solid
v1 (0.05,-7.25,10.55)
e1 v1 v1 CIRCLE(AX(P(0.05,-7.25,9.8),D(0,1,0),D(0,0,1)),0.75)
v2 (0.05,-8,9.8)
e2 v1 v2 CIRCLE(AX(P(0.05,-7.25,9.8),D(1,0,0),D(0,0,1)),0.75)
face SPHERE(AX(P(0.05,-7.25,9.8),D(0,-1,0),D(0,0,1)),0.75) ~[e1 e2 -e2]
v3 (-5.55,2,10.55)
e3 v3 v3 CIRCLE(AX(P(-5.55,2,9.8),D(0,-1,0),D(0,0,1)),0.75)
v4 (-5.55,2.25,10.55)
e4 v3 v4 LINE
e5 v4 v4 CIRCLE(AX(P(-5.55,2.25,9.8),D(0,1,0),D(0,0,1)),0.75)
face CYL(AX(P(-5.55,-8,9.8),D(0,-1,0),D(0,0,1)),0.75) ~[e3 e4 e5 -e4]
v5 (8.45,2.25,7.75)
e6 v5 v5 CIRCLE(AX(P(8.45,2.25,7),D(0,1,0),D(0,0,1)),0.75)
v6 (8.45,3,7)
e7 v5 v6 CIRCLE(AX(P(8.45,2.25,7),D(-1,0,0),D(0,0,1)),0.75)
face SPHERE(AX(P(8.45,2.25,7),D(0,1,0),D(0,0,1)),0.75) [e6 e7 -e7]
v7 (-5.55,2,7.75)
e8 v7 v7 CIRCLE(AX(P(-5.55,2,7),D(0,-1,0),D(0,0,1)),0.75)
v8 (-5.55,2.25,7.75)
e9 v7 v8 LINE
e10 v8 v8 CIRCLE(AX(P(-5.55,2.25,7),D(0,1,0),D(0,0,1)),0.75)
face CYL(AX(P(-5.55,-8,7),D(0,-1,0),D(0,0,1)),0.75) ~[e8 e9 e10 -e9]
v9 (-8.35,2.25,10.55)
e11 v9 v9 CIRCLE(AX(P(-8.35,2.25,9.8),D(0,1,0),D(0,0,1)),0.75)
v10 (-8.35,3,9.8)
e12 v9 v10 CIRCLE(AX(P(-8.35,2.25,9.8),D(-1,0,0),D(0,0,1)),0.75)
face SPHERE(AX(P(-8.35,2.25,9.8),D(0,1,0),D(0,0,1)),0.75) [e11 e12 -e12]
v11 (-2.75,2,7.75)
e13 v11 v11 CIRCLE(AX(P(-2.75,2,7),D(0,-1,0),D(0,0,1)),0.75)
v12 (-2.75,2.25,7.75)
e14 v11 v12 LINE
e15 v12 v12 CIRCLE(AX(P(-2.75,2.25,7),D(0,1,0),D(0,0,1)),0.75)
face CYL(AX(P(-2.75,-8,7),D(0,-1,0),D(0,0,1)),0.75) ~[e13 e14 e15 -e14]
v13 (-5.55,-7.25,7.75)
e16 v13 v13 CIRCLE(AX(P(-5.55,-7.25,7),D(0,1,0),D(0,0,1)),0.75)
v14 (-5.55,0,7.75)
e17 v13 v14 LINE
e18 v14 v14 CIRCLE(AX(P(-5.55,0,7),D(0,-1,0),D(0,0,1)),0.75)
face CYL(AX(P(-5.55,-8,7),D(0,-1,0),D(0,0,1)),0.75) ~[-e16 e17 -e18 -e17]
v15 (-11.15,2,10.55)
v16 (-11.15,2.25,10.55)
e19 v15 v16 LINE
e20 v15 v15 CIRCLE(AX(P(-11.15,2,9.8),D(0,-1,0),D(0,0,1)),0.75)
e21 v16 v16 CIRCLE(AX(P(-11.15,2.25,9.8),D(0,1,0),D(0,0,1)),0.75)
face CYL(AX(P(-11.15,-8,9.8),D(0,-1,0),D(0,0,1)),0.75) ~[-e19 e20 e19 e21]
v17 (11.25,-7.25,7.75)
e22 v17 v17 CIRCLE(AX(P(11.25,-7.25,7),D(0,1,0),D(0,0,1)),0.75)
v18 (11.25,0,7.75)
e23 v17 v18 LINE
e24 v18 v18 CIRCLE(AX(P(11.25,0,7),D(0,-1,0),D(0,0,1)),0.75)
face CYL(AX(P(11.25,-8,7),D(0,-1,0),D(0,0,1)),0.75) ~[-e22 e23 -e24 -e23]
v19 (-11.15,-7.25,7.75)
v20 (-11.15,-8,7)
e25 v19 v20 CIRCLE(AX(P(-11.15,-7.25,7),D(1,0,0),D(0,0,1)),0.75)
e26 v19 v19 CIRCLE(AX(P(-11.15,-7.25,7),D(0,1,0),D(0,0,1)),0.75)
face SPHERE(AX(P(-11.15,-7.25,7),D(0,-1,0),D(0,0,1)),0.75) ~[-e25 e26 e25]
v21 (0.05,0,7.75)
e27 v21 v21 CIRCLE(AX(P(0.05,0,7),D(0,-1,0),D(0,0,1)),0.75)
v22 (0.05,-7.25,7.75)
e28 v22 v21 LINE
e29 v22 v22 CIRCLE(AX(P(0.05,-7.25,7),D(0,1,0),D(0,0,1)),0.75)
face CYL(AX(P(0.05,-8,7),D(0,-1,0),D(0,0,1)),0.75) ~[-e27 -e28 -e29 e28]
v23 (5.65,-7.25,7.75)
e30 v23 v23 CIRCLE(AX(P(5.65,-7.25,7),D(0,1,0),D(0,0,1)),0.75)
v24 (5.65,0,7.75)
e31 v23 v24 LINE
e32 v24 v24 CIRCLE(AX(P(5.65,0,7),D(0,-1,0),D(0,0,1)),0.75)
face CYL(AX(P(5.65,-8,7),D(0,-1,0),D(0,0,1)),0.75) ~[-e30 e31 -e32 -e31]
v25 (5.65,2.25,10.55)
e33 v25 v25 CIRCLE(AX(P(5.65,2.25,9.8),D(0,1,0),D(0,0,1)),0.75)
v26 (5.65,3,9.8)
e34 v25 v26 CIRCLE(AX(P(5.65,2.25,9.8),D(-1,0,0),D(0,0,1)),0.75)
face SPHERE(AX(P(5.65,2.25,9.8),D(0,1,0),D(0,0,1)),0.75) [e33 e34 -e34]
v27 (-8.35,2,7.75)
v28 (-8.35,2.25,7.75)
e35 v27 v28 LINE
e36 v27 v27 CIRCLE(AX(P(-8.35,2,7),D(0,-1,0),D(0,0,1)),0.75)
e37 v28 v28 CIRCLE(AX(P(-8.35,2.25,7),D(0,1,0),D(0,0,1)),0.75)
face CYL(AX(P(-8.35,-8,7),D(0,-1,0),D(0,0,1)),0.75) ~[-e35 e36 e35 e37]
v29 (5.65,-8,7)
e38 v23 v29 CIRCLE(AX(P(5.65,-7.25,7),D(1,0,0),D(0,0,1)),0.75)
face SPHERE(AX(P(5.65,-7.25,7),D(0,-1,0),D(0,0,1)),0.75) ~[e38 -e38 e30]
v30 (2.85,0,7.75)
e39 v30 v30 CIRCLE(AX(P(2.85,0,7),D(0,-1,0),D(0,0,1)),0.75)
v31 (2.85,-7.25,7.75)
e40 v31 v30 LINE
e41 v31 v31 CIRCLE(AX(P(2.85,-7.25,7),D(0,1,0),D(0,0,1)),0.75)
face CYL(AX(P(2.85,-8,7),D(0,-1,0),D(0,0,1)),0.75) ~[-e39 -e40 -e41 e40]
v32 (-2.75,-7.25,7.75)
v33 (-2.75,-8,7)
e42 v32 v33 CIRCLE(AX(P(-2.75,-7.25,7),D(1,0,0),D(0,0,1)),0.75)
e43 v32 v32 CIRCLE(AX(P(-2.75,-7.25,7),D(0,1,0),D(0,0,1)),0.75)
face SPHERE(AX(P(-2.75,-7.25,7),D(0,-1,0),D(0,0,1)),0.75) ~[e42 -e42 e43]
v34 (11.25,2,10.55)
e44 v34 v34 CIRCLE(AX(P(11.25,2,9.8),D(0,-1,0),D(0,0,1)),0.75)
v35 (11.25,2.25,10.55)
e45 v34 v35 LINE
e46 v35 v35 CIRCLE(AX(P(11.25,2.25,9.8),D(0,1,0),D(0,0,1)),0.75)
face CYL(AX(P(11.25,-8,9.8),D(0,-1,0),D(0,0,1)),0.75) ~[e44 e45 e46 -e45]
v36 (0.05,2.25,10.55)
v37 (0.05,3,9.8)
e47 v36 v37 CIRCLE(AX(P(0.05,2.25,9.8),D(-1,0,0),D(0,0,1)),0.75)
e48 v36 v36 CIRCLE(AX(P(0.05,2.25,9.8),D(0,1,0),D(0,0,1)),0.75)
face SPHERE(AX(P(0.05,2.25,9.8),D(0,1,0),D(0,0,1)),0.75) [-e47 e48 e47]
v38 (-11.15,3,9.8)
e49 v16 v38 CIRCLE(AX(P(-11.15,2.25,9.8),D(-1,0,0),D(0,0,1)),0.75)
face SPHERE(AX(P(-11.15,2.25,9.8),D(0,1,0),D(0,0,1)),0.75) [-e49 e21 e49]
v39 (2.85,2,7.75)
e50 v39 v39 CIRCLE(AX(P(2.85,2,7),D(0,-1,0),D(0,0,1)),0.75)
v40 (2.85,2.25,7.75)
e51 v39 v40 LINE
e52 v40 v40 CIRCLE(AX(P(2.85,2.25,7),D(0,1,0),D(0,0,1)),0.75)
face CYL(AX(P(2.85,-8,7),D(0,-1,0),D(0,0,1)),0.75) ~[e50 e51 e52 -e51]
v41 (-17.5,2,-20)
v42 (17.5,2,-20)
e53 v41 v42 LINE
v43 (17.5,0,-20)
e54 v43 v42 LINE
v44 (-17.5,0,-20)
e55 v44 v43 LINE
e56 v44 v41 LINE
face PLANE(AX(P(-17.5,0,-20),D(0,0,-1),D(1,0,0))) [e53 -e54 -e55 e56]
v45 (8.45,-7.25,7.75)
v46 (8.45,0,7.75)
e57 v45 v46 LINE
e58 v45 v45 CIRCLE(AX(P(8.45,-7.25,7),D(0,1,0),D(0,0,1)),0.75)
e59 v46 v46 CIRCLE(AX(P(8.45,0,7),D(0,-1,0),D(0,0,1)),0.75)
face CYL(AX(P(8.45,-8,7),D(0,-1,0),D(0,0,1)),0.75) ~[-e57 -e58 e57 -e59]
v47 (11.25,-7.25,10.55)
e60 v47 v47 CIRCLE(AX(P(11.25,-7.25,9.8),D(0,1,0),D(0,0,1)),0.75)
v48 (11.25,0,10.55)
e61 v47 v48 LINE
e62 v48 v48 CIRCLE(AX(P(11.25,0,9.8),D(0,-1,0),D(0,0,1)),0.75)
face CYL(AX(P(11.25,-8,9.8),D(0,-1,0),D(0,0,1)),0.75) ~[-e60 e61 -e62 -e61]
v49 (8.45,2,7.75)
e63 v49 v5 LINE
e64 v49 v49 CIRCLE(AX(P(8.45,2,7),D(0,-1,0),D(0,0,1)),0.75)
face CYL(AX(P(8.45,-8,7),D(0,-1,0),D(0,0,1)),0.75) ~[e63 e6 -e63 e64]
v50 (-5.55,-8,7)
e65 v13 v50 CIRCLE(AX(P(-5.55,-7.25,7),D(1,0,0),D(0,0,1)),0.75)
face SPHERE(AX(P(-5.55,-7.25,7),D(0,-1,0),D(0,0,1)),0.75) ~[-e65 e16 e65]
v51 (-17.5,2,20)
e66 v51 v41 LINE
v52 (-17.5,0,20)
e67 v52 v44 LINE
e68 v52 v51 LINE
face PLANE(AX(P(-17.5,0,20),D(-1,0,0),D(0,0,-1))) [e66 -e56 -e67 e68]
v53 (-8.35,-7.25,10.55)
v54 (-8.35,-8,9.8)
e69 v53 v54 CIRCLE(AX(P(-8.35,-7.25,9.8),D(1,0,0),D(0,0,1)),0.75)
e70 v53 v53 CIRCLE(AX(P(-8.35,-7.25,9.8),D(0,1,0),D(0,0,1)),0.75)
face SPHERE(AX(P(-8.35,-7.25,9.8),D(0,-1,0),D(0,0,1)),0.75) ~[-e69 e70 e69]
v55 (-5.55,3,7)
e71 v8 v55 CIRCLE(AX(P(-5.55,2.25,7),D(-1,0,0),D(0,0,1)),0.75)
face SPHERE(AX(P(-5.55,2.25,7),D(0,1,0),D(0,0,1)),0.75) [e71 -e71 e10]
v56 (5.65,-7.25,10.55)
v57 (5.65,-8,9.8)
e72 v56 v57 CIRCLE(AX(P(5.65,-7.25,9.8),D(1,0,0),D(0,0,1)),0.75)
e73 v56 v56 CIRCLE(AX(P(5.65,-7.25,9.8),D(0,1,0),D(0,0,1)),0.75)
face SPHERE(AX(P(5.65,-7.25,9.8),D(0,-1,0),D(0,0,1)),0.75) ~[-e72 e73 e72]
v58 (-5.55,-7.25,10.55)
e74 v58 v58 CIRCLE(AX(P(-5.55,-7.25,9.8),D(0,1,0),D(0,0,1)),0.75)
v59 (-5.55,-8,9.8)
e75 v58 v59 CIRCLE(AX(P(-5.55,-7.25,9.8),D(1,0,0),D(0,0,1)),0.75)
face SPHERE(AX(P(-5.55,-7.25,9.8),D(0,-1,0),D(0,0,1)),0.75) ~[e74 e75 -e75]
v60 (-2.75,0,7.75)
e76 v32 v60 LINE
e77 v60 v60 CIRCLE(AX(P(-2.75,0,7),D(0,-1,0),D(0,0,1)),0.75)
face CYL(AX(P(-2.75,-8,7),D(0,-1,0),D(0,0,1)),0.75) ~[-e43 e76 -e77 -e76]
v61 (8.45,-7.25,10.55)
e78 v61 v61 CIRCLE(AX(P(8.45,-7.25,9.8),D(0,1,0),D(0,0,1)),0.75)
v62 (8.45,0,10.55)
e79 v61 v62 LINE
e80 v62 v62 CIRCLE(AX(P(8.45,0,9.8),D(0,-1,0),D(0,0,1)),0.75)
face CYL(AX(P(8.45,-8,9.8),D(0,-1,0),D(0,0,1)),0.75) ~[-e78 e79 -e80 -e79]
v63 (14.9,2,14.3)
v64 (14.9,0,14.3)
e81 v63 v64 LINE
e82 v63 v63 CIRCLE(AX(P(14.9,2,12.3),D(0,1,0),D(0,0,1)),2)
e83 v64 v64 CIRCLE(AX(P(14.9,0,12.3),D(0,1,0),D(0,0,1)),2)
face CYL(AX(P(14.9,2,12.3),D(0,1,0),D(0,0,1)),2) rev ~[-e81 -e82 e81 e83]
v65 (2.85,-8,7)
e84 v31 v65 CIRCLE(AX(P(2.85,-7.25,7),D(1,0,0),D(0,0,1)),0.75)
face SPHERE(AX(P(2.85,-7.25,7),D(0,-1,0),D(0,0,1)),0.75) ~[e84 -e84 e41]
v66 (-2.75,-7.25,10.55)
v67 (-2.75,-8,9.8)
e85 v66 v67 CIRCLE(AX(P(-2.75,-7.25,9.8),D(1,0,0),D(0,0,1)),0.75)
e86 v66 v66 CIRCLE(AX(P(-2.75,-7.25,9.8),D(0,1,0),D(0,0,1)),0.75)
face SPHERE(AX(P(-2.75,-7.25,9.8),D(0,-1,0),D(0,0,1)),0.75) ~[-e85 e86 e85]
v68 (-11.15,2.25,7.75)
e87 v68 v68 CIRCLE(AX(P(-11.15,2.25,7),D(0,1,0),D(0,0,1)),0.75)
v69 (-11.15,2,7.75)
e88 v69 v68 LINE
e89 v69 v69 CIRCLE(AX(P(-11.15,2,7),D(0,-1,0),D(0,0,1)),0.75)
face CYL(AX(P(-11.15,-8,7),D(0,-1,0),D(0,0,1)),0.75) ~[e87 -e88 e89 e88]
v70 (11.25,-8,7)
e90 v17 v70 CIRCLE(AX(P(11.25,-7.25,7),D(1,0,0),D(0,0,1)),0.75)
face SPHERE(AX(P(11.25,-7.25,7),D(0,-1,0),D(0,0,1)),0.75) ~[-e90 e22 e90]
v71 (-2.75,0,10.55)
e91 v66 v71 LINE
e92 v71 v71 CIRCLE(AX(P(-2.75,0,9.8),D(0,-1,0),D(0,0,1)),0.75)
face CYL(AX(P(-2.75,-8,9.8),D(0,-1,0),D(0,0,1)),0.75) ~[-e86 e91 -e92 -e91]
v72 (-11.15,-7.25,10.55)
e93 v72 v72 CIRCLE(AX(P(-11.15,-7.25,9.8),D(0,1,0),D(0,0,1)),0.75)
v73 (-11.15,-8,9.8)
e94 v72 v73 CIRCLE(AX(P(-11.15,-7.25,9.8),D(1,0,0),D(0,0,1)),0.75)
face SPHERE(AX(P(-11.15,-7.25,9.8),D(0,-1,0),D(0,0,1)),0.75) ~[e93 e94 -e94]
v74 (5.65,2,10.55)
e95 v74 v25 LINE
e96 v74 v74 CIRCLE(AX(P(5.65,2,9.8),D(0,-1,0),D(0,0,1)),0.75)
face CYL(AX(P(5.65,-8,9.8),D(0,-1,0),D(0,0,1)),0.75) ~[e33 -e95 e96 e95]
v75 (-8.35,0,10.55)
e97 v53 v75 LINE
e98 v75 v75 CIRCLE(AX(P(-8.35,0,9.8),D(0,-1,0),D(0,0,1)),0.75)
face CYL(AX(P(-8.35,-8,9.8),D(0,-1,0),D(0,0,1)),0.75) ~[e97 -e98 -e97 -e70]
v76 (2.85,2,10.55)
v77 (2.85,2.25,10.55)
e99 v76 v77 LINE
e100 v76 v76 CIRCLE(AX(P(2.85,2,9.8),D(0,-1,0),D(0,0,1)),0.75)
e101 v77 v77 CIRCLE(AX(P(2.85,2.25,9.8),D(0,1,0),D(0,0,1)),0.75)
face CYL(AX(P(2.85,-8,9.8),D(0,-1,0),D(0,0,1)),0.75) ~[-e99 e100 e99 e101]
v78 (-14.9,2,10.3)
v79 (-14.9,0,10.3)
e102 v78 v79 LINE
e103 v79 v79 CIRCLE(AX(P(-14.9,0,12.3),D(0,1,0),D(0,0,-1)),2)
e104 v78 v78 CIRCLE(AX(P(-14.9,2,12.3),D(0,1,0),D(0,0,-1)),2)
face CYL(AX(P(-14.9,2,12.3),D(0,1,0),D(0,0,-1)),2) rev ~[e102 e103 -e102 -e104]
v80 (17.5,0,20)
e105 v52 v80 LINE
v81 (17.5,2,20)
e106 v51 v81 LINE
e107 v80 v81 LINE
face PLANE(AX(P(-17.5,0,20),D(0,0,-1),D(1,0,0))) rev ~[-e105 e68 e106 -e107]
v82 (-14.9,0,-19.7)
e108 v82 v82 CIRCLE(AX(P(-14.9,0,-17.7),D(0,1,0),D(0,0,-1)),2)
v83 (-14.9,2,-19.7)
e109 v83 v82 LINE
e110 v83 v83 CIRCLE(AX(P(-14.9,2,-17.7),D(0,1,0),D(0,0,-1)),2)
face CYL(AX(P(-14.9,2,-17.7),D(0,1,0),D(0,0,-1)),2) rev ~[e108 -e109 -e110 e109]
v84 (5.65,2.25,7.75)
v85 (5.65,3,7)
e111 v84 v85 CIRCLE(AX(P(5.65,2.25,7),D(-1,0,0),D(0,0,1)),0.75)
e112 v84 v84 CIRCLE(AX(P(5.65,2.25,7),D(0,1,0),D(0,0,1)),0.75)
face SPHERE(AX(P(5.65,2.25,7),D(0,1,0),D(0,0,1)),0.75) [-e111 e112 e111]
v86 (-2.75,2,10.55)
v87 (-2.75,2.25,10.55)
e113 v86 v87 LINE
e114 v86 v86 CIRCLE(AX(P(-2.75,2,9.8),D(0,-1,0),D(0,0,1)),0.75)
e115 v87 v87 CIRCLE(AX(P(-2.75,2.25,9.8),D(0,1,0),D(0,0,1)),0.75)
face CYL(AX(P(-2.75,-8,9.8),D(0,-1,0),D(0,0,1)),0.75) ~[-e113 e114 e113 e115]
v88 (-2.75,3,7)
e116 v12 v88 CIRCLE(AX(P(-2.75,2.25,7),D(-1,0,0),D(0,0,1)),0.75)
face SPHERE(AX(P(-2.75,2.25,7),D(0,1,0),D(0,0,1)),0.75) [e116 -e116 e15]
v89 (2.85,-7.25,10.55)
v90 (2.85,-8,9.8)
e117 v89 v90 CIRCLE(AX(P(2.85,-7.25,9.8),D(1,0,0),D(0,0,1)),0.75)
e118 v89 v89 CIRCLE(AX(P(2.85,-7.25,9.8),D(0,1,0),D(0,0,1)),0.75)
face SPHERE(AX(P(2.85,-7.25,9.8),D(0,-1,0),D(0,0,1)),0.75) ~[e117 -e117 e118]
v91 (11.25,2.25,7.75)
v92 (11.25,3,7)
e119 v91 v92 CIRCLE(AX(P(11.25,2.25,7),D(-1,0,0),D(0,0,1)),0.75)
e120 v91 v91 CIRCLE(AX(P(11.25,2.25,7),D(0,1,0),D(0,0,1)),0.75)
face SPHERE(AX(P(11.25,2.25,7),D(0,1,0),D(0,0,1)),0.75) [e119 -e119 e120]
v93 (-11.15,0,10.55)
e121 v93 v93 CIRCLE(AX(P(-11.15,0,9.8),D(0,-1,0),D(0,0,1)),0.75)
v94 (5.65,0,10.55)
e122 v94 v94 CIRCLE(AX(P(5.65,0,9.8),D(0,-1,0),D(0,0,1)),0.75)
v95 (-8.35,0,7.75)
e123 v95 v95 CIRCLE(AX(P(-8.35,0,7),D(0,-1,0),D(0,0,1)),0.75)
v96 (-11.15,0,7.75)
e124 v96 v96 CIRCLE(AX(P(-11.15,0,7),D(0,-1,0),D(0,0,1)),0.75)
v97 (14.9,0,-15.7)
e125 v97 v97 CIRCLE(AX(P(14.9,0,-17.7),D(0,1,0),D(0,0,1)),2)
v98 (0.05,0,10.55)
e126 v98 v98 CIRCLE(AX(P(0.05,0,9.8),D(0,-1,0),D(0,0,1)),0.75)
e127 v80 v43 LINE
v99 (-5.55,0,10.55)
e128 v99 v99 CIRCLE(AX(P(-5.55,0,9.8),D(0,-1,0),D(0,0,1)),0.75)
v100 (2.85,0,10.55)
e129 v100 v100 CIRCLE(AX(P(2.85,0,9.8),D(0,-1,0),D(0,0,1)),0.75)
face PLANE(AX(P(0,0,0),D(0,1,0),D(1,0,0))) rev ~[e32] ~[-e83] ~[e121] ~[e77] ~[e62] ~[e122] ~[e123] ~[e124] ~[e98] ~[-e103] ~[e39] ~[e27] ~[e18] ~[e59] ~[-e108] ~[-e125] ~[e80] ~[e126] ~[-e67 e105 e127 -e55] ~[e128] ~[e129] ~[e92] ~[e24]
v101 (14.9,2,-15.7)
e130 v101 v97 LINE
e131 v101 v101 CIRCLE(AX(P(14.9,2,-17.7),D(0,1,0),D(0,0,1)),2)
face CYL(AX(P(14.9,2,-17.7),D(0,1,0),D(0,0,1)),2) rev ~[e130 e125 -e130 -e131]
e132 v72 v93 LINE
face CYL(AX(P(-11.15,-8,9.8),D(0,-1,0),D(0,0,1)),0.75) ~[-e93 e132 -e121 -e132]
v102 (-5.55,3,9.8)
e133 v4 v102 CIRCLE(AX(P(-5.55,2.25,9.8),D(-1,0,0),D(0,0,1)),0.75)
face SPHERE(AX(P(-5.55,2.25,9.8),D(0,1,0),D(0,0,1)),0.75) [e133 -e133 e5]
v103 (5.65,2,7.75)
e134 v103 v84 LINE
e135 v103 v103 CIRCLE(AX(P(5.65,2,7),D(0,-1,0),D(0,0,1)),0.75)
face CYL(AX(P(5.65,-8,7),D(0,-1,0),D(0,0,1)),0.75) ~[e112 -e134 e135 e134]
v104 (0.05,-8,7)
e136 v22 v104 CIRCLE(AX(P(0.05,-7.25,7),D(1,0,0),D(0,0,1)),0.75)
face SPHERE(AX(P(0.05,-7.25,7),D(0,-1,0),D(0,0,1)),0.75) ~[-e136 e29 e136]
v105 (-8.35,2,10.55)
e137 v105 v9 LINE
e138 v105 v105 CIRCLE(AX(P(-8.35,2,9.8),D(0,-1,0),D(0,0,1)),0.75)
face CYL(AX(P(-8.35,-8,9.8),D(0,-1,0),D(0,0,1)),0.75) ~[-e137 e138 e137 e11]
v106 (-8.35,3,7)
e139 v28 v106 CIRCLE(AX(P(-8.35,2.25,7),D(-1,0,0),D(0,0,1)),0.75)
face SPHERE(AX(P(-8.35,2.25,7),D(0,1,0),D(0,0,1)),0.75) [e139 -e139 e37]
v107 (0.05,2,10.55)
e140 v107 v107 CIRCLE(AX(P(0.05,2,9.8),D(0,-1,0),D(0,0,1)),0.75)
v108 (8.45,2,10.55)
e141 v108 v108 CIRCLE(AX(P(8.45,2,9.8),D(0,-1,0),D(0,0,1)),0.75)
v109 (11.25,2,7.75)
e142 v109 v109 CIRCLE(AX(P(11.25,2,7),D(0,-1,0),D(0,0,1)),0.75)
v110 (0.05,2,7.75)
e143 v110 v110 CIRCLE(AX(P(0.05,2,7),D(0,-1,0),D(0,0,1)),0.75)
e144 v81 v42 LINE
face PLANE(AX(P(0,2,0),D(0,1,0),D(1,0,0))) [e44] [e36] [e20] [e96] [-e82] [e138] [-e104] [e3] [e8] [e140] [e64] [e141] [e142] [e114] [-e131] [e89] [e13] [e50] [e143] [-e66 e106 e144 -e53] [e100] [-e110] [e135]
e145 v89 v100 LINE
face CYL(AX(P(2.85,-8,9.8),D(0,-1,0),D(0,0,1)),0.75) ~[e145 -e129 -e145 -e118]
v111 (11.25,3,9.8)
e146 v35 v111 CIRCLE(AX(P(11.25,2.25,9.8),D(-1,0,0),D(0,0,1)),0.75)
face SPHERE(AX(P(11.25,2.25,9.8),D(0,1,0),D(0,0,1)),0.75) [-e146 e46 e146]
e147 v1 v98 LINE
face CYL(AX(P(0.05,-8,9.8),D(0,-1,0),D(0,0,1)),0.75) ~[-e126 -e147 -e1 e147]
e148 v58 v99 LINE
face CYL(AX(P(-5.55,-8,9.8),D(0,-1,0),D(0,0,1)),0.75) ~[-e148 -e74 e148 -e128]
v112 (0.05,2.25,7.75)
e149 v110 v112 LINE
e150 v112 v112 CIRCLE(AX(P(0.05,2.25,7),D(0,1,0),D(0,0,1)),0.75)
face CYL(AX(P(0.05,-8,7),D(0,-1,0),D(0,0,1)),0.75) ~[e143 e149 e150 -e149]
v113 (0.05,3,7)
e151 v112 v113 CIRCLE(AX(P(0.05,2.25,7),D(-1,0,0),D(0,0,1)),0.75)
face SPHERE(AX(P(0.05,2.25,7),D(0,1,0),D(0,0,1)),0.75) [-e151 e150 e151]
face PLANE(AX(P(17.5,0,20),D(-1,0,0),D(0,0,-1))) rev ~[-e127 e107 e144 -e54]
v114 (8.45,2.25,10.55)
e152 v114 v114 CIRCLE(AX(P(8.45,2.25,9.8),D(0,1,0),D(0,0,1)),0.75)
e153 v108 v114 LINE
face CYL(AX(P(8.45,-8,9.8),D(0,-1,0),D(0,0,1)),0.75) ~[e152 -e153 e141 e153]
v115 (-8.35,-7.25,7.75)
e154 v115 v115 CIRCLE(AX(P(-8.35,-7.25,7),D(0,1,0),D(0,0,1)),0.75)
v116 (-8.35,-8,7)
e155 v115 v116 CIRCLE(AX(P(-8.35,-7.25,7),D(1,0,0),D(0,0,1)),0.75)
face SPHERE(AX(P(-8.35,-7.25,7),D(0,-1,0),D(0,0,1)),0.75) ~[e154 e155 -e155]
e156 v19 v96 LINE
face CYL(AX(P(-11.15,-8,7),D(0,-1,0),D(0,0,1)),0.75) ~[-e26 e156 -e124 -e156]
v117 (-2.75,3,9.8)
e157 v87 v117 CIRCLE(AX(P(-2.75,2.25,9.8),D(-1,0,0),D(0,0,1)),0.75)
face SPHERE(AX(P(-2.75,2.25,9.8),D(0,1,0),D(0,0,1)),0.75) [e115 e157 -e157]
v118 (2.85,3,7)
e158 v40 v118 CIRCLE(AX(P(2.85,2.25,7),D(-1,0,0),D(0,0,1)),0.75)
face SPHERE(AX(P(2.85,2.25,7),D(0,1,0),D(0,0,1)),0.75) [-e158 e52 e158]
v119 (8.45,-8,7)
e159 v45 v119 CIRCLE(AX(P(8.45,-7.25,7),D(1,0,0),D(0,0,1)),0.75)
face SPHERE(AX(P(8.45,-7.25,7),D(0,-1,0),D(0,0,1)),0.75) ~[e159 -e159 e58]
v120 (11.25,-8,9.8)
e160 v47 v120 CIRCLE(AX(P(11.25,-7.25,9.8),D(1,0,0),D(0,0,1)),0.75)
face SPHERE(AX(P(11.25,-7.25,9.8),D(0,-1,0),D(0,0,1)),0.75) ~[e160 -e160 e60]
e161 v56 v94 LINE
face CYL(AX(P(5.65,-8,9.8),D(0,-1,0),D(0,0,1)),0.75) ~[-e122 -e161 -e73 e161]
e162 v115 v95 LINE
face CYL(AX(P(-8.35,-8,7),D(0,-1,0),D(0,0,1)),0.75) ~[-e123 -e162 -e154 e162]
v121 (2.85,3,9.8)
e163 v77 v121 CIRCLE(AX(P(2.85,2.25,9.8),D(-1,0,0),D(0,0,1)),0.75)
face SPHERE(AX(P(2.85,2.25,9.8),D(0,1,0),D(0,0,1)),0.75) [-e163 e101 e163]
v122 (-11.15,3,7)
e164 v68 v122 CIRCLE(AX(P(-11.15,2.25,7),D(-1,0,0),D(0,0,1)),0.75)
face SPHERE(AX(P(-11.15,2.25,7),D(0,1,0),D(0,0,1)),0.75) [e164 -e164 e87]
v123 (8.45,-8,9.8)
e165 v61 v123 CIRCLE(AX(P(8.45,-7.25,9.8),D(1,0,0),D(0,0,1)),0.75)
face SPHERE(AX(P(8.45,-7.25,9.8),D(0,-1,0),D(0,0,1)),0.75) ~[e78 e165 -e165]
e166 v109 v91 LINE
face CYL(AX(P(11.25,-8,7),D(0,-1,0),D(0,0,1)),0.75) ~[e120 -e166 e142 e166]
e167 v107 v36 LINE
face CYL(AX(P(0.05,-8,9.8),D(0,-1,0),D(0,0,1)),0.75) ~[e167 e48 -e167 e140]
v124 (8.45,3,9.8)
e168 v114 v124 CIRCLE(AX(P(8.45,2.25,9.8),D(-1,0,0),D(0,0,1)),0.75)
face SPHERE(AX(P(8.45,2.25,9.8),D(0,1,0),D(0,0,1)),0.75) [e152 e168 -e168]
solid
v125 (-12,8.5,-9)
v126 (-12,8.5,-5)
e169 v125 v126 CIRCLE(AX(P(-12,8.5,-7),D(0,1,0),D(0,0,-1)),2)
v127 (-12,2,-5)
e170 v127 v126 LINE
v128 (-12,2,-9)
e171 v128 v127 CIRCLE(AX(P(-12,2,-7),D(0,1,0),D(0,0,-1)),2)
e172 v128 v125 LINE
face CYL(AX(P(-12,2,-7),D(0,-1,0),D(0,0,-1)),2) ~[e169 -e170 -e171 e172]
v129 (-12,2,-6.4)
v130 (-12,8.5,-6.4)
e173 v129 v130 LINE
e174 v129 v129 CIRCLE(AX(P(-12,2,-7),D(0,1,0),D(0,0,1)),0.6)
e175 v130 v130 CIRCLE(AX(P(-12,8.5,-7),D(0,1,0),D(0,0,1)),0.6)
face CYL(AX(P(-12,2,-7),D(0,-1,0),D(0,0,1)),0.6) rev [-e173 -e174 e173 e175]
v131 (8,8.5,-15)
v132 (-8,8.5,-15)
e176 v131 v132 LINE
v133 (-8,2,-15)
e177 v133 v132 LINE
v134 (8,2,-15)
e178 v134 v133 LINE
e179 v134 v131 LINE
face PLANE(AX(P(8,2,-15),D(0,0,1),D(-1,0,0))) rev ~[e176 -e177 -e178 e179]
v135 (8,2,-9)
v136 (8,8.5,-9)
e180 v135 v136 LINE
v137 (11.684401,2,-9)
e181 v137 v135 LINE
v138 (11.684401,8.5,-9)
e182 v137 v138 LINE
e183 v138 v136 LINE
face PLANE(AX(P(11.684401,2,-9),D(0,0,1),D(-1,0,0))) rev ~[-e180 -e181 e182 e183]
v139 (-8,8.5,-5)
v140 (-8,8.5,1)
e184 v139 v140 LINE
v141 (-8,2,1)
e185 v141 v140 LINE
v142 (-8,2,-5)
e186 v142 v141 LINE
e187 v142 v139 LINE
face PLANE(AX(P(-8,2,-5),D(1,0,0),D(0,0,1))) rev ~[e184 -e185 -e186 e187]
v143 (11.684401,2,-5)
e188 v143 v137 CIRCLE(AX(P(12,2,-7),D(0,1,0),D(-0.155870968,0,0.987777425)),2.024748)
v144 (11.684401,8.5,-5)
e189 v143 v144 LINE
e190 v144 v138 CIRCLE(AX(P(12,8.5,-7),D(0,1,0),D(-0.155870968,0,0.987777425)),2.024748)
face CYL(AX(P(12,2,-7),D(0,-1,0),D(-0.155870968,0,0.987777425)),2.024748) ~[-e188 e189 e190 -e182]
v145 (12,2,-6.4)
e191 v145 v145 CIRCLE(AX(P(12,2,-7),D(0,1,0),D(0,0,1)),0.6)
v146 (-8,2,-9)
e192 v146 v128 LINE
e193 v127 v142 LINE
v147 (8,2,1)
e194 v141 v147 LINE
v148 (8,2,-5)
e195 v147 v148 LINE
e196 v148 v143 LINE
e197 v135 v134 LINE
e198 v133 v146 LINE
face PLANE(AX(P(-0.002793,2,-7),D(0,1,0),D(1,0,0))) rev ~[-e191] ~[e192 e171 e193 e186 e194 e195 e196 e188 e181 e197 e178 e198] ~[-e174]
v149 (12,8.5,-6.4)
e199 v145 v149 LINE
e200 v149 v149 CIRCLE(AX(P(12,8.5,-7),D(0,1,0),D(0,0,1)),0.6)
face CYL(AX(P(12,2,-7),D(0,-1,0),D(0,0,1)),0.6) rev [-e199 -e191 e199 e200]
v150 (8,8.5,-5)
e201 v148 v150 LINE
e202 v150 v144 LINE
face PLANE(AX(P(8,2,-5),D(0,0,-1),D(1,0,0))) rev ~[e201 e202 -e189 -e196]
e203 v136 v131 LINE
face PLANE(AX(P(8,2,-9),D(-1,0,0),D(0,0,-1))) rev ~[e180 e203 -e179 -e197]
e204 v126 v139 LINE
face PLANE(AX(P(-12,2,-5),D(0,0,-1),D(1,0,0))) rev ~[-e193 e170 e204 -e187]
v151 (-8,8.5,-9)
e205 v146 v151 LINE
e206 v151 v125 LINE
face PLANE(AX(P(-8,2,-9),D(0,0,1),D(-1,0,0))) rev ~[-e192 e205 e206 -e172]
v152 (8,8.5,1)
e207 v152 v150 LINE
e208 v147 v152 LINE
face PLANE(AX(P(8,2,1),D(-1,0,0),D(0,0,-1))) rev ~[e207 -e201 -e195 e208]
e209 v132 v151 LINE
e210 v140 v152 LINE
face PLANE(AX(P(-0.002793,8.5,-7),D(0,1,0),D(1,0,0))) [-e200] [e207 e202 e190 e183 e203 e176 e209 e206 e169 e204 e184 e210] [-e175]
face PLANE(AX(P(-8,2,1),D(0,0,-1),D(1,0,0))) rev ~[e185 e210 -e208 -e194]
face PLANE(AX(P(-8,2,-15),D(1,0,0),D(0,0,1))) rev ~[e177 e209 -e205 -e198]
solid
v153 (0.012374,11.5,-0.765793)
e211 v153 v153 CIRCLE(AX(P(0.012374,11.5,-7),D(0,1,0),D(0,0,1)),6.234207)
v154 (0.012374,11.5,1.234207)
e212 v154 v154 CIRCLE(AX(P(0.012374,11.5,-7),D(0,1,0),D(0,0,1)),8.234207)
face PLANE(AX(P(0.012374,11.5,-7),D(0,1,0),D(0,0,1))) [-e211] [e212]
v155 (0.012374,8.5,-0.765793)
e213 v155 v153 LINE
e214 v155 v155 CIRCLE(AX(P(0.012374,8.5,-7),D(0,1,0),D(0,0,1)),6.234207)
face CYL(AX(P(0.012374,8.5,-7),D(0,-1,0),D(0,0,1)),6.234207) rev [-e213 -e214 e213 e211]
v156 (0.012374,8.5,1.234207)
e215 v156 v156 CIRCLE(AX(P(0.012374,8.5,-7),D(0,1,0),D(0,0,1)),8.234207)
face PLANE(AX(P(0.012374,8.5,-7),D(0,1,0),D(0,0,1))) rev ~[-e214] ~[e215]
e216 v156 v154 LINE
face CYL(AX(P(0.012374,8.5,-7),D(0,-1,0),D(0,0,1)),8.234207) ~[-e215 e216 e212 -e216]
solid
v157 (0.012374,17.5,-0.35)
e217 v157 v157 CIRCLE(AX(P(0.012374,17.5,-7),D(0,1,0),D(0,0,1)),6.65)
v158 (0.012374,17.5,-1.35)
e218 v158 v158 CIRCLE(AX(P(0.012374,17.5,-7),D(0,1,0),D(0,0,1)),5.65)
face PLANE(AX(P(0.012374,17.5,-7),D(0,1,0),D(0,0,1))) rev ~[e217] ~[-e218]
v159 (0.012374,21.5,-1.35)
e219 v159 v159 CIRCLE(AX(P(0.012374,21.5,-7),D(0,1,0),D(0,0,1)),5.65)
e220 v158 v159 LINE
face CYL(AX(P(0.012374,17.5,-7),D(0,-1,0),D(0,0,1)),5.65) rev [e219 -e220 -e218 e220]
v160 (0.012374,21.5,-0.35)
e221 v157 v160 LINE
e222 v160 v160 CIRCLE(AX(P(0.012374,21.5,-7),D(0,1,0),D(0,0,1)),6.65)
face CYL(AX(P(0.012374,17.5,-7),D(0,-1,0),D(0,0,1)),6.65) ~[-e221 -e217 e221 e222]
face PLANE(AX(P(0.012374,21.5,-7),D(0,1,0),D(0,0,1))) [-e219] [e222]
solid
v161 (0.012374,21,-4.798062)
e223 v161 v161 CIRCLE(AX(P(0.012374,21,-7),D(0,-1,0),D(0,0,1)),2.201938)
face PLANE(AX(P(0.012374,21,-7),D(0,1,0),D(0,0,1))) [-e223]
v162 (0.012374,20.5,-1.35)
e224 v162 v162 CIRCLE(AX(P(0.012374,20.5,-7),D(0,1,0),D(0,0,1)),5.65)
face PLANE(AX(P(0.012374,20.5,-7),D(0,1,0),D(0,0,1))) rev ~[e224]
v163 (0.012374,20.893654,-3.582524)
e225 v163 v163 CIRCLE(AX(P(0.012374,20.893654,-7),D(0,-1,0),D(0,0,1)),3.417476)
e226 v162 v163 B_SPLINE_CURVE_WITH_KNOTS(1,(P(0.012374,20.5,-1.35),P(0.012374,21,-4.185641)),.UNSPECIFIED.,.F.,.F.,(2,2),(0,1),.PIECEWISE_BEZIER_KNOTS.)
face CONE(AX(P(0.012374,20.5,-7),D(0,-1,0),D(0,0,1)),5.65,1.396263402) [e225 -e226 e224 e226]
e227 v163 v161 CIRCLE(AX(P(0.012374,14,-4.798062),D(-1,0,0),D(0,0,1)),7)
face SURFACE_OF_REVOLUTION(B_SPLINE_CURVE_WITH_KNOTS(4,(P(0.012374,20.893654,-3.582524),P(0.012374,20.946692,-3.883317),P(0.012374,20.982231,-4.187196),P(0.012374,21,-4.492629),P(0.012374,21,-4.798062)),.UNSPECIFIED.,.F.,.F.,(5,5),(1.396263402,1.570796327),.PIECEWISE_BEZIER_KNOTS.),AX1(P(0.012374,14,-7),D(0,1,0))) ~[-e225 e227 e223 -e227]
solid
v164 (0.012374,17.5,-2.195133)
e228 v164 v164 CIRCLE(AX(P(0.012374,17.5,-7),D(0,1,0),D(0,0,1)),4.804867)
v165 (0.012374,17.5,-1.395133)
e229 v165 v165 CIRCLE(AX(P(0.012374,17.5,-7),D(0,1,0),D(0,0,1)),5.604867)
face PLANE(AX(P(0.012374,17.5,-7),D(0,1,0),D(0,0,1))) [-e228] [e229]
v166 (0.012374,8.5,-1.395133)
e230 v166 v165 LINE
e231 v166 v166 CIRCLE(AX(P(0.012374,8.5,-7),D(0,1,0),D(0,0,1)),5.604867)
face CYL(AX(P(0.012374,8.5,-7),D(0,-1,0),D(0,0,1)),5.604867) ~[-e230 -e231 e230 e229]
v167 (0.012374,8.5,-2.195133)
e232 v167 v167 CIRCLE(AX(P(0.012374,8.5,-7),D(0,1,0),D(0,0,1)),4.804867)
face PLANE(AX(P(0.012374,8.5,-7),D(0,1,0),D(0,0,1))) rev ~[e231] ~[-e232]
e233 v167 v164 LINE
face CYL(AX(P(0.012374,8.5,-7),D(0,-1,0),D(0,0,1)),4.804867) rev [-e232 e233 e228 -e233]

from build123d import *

# Parameters (mm, degrees)
BOARD_W                  = 35
BOARD_H                  = 40
BASEBOARD_DEPTH          = 2
SKETCH2_R                = 2
SCREW_HOLES_DEPTH        = 2
PINS_DEPTH               = 1
PINS_DEPTH_BACK          = 10
SKETCH3_R                = 0.75
FILLET1_R                = 0.75
SKETCH4_R                = 0.6
BOSS_EXTRUDE3_DEPTH      = 6.5
SKETCH5_R                = 8.234207434
SKETCH5_R_2              = 6.234207434
BOSS_EXTRUDE4_DEPTH      = 3
BOSS_EXTRUDE5_DEPTH      = 6
BOSS_EXTRUDE5_DEPTH_BACK = 3
SKETCH6_R                = 5.604867307
SKETCH6_R_2              = 4.804867307
SKETCH7_R                = 6.65
SKETCH7_R_2              = 5.65
BOSS_EXTRUDE6_DEPTH      = 4
SKETCH9_R                = 5.65
GLASS_DEPTH              = 0.5
GLASS_TAPER              = 80
FILLET2_R                = 7


with BuildPart() as part:
    # Board → BaseBoard (new body)
    with BuildSketch(Plane(origin=(0, 0, 0), x_dir=(1, 0, 0), z_dir=(0, 1, 0))):
        Rectangle(BOARD_W, BOARD_H)
    extrude(amount=BASEBOARD_DEPTH)

    # Sketch2 → Screw Holes (cut)
    with BuildSketch(Plane(origin=(0, 2, 0), x_dir=(1, 0, 0), z_dir=(0, 1, 0))):
        with Locations(Location((14.9, 17.7, 0), (0, 0, 270))):
            Circle(SKETCH2_R)
        with Locations(Location((14.9, -12.3, 0), (0, 0, 270))):
            Circle(SKETCH2_R)
        with Locations(Location((-14.9, -12.3, 0), (0, 0, 90))):
            Circle(SKETCH2_R)
        with Locations(Location((-14.9, 17.7, 0), (0, 0, 90))):
            Circle(SKETCH2_R)
    extrude(amount=-SCREW_HOLES_DEPTH, mode=Mode.SUBTRACT)

    # Sketch3 → Pins (add, two sides: drawn at the far end of the back side and taken through both)
    with BuildSketch(Plane(origin=(0, 2, 0), x_dir=(1, 0, 0), z_dir=(0, 1, 0)).offset(-PINS_DEPTH_BACK)):
        with Locations(Location((-11.15, -7, 0), (0, 0, 270))):
            Circle(SKETCH3_R)
        with Locations(Location((-8.35, -7, 0), (0, 0, 270))):
            Circle(SKETCH3_R)
        with Locations(Location((-5.55, -7, 0), (0, 0, 270))):
            Circle(SKETCH3_R)
        with Locations(Location((-2.75, -7, 0), (0, 0, 270))):
            Circle(SKETCH3_R)
        with Locations(Location((0.05, -7, 0), (0, 0, 270))):
            Circle(SKETCH3_R)
        with Locations(Location((2.85, -7, 0), (0, 0, 270))):
            Circle(SKETCH3_R)
        with Locations(Location((5.65, -7, 0), (0, 0, 270))):
            Circle(SKETCH3_R)
        with Locations(Location((8.45, -7, 0), (0, 0, 270))):
            Circle(SKETCH3_R)
        with Locations(Location((11.25, -7, 0), (0, 0, 270))):
            Circle(SKETCH3_R)
        with Locations(Location((-8.35, -9.8, 0), (0, 0, 270))):
            Circle(SKETCH3_R)
        with Locations(Location((-5.55, -9.8, 0), (0, 0, 270))):
            Circle(SKETCH3_R)
        with Locations(Location((-2.75, -9.8, 0), (0, 0, 270))):
            Circle(SKETCH3_R)
        with Locations(Location((0.05, -9.8, 0), (0, 0, 270))):
            Circle(SKETCH3_R)
        with Locations(Location((2.85, -9.8, 0), (0, 0, 270))):
            Circle(SKETCH3_R)
        with Locations(Location((5.65, -9.8, 0), (0, 0, 270))):
            Circle(SKETCH3_R)
        with Locations(Location((8.45, -9.8, 0), (0, 0, 270))):
            Circle(SKETCH3_R)
        with Locations(Location((11.25, -9.8, 0), (0, 0, 270))):
            Circle(SKETCH3_R)
        with Locations(Location((-11.15, -9.8, 0), (0, 0, 270))):
            Circle(SKETCH3_R)
    extrude(amount=PINS_DEPTH + PINS_DEPTH_BACK)

    # Fillet1
    fillet1_edges = [part.edges().sort_by_distance(p)[0] for p in [
        (2.85, -8, 9.05),
        (2.85, 3, 9.05),
        (5.65, -8, 9.05),
        (5.65, 3, 9.05),
        (8.45, -8, 9.05),
        (8.45, 3, 9.05),
        (11.25, -8, 9.05),
        (11.25, 3, 9.05),
        (-11.15, -8, 9.05),
        (-11.15, 3, 9.05),
        (-11.15, -8, 6.25),
        (-11.15, 3, 6.25),
        (-8.35, -8, 6.25),
        (-8.35, 3, 6.25),
        (-5.55, -8, 6.25),
        (-5.55, 3, 6.25),
        (-2.75, -8, 6.25),
        (-2.75, 3, 6.25),
        (0.05, -8, 6.25),
        (0.05, 3, 6.25),
        (2.85, -8, 6.25),
        (2.85, 3, 6.25),
        (5.65, -8, 6.25),
        (5.65, 3, 6.25),
        (8.45, -8, 6.25),
        (8.45, 3, 6.25),
        (11.25, -8, 6.25),
        (11.25, 3, 6.25),
        (-8.35, -8, 9.05),
        (-8.35, 3, 9.05),
        (-5.55, -8, 9.05),
        (-5.55, 3, 9.05),
        (-2.75, -8, 9.05),
        (-2.75, 3, 9.05),
        (0.05, -8, 9.05),
        (0.05, 3, 9.05),
    ]]
    fillet(fillet1_edges, radius=FILLET1_R)


with BuildPart() as body_2:
    # Sketch4 → Boss-Extrude3 (new body)
    with BuildSketch(Plane(origin=(0, 2, 0), x_dir=(1, 0, 0), z_dir=(0, 1, 0))):
        with BuildLine():
            Line((-12, 5), (-8, 5))
            Line((-8, 5), (-8, -1))
            Line((-8, -1), (8, -1))
            Line((8, -1), (8, 5))
            Line((8, 5), (11.684400627, 5))
            ThreePointArc((11.684400627, 5), (14.02474763, 7), (11.684400627, 9))
            Line((11.684400627, 9), (8, 9))
            Line((8, 9), (8, 15))
            Line((8, 15), (-8, 15))
            Line((-8, 15), (-8, 9))
            Line((-8, 9), (-12, 9))
            ThreePointArc((-12, 9), (-14, 7), (-12, 5))
        make_face()
        with Locations(Location((-12, 7, 0), (0, 0, 270))):
            Circle(SKETCH4_R, mode=Mode.SUBTRACT)
        with Locations(Location((12, 7, 0), (0, 0, 270))):
            Circle(SKETCH4_R, mode=Mode.SUBTRACT)
    extrude(amount=BOSS_EXTRUDE3_DEPTH)


with BuildPart() as body_3:
    # Sketch5 → Boss-Extrude4 (new body)
    with BuildSketch(Plane(origin=(0, 8.5, 0), x_dir=(1, 0, 0), z_dir=(0, 1, 0))):
        with Locations(Location((0.012373815, 7, 0), (0, 0, 270))):
            Circle(SKETCH5_R)
        with Locations(Location((0.012373815, 7, 0), (0, 0, 270))):
            Circle(SKETCH5_R_2, mode=Mode.SUBTRACT)
    extrude(amount=BOSS_EXTRUDE4_DEPTH)


with BuildPart() as body_4:
    # Sketch6 → Boss-Extrude5 (new, two sides: drawn at the far end of the back side and taken through both)
    with BuildSketch(Plane(origin=(0, 11.5, 0), x_dir=(1, 0, 0), z_dir=(0, 1, 0)).offset(-BOSS_EXTRUDE5_DEPTH_BACK)):
        with Locations(Location((0.012373815, 7, 0), (0, 0, 270))):
            Circle(SKETCH6_R)
        with Locations(Location((0.012373815, 7, 0), (0, 0, 270))):
            Circle(SKETCH6_R_2, mode=Mode.SUBTRACT)
    extrude(amount=BOSS_EXTRUDE5_DEPTH + BOSS_EXTRUDE5_DEPTH_BACK)


with BuildPart() as body_5:
    # Sketch7 → Boss-Extrude6 (new body)
    with BuildSketch(Plane(origin=(0, 17.5, 0), x_dir=(1, 0, 0), z_dir=(0, 1, 0))):
        with Locations(Location((0.012373815, 7, 0), (0, 0, 270))):
            Circle(SKETCH7_R)
        with Locations(Location((0.012373815, 7, 0), (0, 0, 270))):
            Circle(SKETCH7_R_2, mode=Mode.SUBTRACT)
    extrude(amount=BOSS_EXTRUDE6_DEPTH)


with BuildPart() as body_6:
    # Sketch9 → Glass (new body)
    with BuildSketch(Plane(origin=(0, 20.5, 0), x_dir=(1, 0, 0), z_dir=(0, 1, 0))):
        with Locations(Location((0.012373815, 7, 0), (0, 0, 270))):
            Circle(SKETCH9_R)
    extrude(amount=GLASS_DEPTH, taper=GLASS_TAPER)

    # Fillet2
    fillet2_edges = [body_6.edges().sort_by_distance(p)[0] for p in [
        (0.012373815, 21, -9.81435909),
    ]]
    fillet(fillet2_edges, radius=FILLET2_R)


solid = Compound([part.part, body_2.part, body_3.part, body_4.part, body_5.part, body_6.part])
